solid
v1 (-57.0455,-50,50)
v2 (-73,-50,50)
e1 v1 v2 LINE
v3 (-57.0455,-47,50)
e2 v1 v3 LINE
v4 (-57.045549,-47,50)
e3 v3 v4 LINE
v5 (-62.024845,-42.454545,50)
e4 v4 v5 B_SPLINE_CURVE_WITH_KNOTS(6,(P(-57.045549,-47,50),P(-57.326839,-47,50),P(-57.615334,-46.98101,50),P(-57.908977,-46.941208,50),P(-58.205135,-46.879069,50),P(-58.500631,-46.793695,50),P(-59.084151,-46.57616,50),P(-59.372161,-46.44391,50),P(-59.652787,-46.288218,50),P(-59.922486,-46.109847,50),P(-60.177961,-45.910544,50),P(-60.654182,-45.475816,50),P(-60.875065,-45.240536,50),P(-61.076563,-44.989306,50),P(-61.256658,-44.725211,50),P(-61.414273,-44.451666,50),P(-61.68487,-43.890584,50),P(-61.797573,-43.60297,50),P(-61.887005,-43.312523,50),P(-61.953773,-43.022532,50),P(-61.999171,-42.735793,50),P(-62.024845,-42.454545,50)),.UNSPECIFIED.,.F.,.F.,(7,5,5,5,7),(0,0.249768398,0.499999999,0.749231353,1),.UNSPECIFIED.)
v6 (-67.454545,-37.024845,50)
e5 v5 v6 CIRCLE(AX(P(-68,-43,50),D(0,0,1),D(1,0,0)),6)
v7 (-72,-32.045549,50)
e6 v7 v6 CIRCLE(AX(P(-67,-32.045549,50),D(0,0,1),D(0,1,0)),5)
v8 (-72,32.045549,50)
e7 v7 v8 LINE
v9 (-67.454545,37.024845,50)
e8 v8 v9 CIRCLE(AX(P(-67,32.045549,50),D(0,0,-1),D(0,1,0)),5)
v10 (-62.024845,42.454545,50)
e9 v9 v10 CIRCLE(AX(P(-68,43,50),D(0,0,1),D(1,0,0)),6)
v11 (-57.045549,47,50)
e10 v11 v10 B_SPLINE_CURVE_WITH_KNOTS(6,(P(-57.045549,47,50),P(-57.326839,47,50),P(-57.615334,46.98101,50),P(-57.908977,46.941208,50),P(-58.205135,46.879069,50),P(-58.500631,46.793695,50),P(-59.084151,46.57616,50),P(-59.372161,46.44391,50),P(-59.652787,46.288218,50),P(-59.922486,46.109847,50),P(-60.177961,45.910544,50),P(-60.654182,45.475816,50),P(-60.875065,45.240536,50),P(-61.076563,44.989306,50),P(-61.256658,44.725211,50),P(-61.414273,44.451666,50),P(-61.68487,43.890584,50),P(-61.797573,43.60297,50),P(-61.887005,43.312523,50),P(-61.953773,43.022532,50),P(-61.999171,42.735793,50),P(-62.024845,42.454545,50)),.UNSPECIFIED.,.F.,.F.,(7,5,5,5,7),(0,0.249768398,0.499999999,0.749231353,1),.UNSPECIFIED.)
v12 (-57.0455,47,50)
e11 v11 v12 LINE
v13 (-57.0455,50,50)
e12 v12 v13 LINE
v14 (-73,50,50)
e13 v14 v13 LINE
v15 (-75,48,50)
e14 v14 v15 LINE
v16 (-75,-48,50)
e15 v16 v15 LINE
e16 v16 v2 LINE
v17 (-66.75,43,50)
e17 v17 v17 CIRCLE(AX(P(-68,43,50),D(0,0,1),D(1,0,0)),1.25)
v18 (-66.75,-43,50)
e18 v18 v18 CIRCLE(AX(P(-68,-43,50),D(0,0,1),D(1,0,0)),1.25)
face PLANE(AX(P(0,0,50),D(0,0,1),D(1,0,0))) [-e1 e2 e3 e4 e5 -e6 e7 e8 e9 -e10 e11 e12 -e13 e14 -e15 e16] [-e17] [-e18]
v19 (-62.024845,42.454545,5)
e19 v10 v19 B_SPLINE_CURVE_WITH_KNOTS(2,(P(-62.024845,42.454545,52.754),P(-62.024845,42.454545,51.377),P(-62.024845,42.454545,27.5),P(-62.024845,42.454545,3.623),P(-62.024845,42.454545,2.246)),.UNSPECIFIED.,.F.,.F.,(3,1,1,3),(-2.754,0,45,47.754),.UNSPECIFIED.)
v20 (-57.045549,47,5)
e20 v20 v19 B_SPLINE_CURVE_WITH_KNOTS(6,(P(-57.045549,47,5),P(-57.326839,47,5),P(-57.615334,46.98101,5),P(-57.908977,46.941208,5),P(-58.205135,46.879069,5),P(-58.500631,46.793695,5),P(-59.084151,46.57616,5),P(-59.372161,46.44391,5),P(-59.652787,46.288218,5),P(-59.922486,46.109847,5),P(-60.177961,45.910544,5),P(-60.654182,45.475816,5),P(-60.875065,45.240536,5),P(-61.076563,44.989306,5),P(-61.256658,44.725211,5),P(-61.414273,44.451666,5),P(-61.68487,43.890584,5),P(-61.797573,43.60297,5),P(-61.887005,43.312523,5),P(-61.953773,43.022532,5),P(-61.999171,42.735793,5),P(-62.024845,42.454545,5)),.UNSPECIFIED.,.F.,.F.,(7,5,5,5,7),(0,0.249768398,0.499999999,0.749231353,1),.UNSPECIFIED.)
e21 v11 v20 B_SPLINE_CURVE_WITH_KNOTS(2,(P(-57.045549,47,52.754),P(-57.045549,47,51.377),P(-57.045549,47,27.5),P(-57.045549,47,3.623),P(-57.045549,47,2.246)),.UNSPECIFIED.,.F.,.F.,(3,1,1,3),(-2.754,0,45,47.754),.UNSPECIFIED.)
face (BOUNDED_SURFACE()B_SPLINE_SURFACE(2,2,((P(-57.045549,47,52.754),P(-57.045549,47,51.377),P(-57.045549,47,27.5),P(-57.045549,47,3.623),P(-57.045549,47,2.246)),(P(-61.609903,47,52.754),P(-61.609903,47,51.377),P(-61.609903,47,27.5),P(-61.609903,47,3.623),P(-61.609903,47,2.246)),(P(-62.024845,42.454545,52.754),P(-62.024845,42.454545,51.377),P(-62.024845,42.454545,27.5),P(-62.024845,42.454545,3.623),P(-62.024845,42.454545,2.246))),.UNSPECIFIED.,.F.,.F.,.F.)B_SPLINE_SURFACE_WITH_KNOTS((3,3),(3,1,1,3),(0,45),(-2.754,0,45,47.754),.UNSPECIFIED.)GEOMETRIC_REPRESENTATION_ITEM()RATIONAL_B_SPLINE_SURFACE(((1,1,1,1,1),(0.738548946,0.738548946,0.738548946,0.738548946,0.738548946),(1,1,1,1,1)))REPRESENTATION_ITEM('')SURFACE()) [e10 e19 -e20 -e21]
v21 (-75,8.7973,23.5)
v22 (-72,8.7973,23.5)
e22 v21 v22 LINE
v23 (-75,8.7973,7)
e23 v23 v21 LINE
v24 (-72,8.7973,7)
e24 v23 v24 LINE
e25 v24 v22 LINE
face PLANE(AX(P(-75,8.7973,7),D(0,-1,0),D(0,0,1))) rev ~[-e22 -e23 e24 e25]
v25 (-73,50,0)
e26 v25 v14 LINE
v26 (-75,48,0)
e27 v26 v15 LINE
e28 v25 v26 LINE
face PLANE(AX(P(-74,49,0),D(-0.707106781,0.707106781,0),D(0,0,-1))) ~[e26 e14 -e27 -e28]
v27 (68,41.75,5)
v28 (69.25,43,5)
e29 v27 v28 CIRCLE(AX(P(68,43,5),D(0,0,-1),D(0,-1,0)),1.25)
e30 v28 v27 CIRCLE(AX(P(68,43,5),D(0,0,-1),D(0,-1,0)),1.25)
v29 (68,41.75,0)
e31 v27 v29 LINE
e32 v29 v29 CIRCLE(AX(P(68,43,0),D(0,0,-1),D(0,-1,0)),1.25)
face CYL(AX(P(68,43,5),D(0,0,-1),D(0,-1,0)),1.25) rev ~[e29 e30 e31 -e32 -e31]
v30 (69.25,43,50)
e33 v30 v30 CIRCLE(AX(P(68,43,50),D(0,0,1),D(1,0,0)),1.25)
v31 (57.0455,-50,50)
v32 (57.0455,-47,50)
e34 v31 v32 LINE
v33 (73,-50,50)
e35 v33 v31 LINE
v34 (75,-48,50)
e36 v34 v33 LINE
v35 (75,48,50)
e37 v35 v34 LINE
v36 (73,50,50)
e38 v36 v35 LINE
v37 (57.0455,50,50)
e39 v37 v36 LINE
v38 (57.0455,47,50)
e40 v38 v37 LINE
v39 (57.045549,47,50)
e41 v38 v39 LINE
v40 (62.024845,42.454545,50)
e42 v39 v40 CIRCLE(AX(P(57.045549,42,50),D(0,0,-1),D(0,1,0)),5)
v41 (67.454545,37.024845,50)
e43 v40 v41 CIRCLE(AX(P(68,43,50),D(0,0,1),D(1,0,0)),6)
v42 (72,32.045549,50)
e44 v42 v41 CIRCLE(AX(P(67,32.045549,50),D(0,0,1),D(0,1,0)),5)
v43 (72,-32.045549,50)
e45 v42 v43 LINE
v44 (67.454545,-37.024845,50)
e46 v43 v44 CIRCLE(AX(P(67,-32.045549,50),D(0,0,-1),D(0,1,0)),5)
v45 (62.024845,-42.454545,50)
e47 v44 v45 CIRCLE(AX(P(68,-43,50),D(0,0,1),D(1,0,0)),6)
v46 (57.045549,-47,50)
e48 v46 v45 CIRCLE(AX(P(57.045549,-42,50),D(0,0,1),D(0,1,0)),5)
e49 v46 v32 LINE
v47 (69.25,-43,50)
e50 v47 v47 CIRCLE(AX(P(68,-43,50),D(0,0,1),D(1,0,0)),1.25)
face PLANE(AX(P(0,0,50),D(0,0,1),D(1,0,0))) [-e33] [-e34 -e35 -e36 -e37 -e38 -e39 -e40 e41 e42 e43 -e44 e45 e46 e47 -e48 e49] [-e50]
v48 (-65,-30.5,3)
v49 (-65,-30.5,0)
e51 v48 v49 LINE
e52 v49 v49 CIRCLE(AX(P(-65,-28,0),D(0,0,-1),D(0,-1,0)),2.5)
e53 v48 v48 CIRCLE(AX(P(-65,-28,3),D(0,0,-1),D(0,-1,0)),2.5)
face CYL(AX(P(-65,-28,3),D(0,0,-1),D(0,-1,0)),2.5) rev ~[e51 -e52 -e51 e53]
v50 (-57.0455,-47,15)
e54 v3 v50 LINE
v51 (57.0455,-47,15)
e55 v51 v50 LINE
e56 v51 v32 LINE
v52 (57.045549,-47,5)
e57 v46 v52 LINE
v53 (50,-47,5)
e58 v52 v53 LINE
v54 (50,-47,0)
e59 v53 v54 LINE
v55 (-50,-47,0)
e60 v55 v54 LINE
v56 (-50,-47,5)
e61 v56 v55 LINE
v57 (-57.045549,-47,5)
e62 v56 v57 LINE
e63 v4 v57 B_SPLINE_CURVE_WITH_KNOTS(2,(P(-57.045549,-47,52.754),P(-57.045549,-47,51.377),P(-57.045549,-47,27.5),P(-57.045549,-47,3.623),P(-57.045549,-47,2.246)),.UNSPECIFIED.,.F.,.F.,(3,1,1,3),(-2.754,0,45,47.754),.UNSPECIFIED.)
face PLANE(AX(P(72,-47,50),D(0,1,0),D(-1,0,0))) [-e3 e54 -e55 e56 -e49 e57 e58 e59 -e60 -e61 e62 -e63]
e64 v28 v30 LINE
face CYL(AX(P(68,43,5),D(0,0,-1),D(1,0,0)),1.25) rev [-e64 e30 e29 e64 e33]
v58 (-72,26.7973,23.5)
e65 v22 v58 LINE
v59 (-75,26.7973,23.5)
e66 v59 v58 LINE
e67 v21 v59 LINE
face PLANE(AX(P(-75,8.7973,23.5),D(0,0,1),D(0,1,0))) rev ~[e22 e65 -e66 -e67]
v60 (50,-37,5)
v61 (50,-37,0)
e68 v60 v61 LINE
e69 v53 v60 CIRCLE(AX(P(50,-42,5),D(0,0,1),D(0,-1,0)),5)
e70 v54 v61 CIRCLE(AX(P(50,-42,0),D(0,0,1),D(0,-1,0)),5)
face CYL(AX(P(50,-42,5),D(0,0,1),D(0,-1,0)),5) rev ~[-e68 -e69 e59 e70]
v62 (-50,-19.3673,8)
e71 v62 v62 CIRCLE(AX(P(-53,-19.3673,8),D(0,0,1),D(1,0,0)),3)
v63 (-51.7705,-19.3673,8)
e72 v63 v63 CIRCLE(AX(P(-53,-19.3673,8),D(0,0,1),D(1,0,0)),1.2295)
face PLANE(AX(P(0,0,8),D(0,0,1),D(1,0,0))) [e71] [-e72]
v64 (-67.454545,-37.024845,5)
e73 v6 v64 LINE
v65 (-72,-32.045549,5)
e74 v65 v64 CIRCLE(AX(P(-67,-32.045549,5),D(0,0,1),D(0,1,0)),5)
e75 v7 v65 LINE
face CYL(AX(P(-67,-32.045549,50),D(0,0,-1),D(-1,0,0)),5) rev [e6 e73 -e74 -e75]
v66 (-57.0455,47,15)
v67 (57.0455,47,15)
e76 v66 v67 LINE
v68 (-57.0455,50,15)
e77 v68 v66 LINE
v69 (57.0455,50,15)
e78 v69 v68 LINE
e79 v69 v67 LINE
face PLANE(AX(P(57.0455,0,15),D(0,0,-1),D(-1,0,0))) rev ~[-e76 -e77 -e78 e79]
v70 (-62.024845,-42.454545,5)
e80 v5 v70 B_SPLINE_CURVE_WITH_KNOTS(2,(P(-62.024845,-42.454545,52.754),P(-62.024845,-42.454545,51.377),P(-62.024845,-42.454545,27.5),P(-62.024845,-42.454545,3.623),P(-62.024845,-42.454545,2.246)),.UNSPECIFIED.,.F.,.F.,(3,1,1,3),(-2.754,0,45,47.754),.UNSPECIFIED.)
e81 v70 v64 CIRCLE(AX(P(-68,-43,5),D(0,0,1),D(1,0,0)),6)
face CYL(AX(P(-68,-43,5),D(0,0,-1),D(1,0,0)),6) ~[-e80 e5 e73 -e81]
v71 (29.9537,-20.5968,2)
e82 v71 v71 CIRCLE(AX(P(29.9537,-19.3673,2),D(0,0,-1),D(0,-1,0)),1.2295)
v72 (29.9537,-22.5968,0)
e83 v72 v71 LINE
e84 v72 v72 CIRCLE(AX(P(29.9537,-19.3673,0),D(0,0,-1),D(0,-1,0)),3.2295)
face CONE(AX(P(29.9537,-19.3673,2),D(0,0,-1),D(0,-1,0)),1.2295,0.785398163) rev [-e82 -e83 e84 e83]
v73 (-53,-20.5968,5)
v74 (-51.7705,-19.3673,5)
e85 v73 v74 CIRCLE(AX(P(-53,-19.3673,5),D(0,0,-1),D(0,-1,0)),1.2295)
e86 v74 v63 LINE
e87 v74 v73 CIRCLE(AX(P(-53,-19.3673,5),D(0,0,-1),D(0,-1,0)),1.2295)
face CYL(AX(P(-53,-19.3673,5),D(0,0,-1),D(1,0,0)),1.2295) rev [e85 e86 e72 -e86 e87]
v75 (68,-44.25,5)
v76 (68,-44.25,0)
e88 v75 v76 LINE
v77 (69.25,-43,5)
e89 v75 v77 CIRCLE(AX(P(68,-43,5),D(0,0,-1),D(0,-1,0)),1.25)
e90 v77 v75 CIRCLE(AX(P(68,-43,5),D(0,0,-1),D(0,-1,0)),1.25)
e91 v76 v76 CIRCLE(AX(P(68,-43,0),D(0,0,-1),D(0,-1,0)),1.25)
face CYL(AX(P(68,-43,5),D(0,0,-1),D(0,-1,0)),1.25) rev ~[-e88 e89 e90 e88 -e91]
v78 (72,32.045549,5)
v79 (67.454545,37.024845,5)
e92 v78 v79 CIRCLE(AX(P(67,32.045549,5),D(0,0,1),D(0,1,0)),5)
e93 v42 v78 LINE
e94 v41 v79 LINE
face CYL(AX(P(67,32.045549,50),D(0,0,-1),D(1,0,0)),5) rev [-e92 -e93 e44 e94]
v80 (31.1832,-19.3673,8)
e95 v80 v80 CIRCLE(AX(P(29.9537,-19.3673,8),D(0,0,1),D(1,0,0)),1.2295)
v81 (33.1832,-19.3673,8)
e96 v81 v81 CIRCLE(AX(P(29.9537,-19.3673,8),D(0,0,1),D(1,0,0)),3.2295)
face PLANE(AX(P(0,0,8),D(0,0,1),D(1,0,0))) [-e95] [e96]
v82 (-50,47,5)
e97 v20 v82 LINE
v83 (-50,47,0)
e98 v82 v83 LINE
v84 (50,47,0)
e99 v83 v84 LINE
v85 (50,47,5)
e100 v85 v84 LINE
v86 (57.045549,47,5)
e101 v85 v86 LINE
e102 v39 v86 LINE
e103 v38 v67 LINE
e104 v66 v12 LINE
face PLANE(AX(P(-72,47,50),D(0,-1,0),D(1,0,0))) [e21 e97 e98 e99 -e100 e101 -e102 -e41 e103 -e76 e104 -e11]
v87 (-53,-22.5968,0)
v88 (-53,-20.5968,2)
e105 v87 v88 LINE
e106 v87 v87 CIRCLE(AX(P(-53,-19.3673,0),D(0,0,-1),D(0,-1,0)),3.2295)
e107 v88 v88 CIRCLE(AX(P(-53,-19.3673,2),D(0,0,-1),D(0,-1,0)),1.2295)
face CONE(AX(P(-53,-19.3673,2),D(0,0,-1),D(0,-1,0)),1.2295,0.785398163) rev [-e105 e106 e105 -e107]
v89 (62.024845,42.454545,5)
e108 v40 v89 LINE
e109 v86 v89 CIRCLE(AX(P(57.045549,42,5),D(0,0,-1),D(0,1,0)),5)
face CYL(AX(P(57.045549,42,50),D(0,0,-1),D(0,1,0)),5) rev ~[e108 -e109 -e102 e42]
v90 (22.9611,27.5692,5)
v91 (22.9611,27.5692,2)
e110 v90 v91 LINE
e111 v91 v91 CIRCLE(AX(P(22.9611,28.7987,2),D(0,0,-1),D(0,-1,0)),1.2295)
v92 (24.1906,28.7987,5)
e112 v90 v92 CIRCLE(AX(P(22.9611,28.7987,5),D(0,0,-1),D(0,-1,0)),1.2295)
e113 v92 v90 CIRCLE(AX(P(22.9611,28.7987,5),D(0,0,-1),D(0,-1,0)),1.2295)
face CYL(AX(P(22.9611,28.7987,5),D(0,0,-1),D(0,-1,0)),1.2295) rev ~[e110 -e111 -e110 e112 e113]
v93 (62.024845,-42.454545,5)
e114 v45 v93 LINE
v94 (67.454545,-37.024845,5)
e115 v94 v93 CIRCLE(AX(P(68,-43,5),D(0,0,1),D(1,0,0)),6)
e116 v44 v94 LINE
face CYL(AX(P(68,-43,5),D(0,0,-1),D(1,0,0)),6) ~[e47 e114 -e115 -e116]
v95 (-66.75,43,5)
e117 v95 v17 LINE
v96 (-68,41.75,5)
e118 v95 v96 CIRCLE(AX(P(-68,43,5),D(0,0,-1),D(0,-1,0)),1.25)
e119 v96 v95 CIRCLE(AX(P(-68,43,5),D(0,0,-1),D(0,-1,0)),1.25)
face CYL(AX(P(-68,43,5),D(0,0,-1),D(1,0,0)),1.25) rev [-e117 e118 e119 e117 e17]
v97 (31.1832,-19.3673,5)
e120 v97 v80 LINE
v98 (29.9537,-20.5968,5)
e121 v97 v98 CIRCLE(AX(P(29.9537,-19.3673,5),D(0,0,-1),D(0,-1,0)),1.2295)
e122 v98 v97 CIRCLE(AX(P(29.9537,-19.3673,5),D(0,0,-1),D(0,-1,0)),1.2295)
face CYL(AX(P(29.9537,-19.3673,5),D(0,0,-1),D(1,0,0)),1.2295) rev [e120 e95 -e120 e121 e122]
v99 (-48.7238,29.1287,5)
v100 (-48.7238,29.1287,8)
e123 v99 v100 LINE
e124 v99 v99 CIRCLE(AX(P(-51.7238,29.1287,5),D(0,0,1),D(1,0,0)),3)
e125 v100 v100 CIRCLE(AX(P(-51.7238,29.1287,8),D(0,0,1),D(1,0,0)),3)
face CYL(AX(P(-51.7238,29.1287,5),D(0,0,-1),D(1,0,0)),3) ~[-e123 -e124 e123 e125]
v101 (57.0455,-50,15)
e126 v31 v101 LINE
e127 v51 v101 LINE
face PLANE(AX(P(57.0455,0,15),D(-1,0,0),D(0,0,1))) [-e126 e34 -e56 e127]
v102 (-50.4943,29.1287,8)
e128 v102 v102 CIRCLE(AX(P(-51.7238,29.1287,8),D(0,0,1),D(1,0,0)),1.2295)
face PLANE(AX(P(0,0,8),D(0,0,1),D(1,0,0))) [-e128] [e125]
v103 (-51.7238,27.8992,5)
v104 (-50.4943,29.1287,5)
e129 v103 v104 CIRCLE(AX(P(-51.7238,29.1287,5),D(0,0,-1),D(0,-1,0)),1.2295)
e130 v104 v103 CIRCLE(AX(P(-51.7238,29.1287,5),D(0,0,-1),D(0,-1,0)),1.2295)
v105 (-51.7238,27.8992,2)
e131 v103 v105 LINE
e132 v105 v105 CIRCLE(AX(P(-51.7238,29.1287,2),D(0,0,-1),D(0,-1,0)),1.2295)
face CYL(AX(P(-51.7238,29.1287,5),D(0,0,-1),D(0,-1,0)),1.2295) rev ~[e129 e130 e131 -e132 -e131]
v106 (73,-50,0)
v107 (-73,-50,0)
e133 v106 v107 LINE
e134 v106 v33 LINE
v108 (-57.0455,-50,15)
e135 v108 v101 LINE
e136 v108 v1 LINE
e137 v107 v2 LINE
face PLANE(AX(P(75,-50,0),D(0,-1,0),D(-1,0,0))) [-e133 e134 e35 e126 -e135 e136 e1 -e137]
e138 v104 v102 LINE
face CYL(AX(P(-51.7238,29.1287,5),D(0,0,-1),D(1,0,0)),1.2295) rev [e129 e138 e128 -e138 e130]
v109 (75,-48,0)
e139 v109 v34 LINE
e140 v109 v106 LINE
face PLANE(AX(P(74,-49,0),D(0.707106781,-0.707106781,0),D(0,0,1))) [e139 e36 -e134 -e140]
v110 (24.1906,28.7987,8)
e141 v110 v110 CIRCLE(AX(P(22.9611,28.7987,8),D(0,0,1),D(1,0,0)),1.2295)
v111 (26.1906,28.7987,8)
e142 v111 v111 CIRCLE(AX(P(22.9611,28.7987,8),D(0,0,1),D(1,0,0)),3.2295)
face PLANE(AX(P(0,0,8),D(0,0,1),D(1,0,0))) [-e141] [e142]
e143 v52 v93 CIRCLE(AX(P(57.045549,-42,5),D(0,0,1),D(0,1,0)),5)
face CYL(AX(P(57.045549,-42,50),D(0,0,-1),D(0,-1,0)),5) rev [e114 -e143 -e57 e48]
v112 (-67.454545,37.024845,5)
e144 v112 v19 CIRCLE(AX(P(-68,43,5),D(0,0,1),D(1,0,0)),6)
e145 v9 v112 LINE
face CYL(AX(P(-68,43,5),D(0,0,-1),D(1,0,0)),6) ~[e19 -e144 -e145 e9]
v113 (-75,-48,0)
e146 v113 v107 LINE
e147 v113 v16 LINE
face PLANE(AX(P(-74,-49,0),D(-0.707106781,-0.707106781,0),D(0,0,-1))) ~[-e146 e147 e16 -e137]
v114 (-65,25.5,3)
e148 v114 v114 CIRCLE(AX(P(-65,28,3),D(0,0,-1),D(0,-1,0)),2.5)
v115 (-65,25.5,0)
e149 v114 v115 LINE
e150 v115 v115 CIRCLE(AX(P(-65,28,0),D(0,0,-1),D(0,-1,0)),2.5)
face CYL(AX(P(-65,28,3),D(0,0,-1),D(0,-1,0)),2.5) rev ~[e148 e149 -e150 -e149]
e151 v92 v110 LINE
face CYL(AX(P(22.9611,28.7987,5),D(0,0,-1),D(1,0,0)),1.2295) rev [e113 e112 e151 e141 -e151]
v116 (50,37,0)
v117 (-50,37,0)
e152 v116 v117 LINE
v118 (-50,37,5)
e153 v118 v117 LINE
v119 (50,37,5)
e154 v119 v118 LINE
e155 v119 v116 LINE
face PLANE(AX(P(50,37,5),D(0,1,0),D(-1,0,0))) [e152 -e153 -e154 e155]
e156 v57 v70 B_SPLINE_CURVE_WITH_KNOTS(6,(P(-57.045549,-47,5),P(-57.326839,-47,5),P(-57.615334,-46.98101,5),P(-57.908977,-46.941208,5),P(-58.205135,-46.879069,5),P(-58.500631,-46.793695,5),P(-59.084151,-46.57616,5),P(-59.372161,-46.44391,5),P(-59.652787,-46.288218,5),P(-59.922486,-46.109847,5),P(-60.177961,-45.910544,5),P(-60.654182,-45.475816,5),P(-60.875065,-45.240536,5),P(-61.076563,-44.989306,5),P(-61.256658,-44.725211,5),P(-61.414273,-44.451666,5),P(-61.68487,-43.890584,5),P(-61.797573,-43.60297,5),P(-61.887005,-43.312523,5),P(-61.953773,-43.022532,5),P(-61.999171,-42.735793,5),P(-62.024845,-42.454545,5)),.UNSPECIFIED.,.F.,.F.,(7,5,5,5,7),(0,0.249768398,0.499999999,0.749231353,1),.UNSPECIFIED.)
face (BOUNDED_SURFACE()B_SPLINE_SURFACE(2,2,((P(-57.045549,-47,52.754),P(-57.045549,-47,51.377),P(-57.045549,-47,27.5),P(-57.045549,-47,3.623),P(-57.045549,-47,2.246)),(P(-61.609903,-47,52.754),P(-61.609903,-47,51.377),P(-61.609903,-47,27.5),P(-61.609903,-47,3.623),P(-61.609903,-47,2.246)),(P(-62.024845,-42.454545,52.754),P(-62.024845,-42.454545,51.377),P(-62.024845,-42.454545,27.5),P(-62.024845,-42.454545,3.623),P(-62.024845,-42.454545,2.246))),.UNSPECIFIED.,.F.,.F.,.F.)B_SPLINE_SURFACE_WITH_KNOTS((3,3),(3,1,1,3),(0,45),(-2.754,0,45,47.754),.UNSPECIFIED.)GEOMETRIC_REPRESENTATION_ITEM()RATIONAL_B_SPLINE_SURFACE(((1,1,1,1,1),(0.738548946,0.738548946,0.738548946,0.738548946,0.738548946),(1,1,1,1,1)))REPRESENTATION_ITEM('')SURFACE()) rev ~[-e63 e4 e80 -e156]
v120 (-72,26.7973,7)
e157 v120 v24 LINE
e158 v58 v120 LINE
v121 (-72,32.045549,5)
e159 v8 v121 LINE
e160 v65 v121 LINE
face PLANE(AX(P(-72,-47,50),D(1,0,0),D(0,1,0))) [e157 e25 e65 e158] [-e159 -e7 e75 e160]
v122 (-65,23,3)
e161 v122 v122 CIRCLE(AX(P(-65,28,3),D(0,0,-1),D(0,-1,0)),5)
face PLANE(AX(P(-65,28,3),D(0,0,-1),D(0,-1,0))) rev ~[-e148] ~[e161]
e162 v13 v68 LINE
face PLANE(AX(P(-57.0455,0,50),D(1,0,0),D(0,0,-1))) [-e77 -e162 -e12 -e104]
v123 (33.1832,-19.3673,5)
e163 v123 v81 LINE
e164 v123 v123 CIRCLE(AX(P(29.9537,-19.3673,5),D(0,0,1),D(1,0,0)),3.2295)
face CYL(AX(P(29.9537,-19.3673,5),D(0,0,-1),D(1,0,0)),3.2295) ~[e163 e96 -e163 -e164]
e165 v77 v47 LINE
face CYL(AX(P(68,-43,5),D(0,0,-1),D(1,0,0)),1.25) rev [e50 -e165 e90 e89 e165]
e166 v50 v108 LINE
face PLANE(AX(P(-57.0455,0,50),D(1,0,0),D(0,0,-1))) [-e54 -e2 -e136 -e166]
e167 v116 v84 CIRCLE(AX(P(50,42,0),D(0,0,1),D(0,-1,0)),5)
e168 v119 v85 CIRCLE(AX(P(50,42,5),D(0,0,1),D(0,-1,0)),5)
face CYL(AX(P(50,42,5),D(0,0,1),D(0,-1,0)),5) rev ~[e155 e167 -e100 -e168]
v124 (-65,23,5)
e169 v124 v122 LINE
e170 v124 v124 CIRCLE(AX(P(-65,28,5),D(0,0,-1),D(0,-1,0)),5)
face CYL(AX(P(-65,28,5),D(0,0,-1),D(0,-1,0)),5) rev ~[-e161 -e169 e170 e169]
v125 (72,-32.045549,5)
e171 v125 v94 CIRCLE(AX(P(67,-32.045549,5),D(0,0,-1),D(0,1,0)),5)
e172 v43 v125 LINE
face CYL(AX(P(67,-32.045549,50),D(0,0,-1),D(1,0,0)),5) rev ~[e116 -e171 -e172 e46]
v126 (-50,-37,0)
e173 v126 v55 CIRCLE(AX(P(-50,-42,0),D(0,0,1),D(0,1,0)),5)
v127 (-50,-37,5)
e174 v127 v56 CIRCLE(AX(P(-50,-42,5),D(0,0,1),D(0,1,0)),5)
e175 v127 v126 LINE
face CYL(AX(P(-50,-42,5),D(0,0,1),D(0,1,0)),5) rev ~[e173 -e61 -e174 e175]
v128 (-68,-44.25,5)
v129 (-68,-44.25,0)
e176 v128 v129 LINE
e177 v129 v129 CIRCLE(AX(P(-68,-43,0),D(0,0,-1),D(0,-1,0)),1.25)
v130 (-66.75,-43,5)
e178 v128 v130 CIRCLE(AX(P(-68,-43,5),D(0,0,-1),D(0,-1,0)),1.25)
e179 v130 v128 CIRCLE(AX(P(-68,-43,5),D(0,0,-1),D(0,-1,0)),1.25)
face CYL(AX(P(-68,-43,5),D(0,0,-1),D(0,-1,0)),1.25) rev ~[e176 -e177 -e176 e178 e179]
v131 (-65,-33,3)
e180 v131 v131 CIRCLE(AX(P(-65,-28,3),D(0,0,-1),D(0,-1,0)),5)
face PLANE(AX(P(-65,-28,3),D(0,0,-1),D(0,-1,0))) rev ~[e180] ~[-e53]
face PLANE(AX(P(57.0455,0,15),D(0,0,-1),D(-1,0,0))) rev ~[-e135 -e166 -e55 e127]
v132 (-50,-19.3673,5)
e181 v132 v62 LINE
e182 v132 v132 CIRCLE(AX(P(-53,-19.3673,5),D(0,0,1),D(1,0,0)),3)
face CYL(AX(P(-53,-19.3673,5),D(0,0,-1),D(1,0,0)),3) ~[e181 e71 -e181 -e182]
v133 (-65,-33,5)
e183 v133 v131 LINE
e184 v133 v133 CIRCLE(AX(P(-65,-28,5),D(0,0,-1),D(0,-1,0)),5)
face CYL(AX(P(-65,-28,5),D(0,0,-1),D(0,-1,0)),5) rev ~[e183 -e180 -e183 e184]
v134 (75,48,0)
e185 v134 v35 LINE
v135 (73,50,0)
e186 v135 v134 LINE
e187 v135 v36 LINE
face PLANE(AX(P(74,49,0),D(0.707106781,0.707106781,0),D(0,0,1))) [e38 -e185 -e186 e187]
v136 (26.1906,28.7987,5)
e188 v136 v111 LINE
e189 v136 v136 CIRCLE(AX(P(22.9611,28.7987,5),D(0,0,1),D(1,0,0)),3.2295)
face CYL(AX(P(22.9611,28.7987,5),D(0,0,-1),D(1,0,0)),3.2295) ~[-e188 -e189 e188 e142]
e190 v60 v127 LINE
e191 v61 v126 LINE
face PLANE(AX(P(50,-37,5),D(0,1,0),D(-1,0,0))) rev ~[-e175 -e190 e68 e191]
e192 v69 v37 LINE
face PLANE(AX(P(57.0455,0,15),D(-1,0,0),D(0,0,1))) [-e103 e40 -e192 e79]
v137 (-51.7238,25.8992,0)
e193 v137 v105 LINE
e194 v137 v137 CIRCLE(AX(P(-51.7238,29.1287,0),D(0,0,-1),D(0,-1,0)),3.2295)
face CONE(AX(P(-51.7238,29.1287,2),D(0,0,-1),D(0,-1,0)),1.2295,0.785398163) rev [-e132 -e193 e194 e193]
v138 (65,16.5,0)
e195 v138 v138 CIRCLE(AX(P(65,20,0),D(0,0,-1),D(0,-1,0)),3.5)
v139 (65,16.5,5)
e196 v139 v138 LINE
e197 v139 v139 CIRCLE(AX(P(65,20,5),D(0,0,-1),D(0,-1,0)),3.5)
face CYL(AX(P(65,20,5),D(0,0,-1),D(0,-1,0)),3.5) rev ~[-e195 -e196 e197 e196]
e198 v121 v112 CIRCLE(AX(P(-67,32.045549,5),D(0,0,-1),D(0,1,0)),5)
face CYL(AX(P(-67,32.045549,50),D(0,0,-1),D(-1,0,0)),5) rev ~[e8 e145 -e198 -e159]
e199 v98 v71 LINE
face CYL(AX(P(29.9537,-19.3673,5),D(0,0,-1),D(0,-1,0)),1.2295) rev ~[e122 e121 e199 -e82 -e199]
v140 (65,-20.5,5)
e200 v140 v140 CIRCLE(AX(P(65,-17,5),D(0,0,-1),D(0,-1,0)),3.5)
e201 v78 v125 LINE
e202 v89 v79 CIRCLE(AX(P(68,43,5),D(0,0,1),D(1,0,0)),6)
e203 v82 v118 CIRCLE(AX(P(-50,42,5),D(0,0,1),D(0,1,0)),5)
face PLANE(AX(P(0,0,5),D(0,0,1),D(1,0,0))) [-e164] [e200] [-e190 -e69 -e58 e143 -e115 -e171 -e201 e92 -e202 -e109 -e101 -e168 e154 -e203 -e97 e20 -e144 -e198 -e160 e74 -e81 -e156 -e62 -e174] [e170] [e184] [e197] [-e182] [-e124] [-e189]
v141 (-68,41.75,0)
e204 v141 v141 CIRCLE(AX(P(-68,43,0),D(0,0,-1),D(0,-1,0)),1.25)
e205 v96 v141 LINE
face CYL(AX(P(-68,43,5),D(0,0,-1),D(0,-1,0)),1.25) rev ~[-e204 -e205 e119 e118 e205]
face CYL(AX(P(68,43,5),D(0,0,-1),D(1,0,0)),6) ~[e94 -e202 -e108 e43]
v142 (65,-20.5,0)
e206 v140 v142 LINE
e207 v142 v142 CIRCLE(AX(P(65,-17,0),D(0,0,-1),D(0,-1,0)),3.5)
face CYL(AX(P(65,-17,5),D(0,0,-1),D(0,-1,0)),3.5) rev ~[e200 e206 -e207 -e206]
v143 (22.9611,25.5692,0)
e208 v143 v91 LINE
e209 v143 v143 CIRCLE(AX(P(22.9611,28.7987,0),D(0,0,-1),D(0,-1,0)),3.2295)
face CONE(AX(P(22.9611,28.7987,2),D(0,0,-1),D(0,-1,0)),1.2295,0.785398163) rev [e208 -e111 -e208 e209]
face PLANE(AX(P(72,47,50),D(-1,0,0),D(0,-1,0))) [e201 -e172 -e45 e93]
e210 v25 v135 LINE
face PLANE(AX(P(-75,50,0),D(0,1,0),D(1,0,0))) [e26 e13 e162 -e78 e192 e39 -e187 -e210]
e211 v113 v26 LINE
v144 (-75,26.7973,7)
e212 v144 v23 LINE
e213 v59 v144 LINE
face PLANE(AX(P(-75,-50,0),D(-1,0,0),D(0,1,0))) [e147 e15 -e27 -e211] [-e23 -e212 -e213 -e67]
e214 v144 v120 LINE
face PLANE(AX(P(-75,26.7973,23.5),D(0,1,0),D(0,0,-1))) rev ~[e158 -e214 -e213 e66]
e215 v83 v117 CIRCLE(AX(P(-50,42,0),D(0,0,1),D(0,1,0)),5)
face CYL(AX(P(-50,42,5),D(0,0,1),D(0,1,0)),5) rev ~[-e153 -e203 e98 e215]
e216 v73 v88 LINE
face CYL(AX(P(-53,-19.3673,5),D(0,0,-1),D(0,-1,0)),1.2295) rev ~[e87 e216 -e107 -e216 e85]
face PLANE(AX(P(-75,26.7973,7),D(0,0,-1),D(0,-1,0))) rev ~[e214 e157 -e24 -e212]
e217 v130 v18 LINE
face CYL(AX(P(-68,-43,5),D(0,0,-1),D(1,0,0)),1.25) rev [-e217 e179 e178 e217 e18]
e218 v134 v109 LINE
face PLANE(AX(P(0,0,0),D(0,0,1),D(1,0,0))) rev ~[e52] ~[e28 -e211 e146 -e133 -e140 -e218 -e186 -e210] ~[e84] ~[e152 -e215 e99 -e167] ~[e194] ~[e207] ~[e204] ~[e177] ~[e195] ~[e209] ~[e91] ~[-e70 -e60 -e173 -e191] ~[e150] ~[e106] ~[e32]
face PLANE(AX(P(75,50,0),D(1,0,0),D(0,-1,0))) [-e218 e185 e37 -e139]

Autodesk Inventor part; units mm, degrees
ref_plane "YZ Plane" through (0, 0, 0) normal (1, 0, 0) x (0, 1, 0)
ref_plane "XZ Plane" through (0, 0, 0) normal (0, 1, 0) x (-1, 0, 0)
ref_plane "XY Plane" through (0, 0, 0) normal (0, 0, 1) x (1, 0, 0)
sketch "Sketch1" plane through (0, 0, 0) normal (0, 0, 1) x (1, 0, 0)
  line L0 (-75, 50) -> (75, 50)
  line L1 (75, 50) -> (75, -50)
  line L2 (75, -50) -> (-75, -50)
  line L3 (-75, -50) -> (-75, 50)
  point P0 (0, 0)
  point P1 (-75, 0)
  point P2 (0, 50)
  dimension "d0" = 150
  dimension "d1" = 100
extrude "Extrusion1" add sketch "Sketch1" along normal blind 50
sketch "Sketch2" plane through (0, 0, 50) normal (0, 0, 1) x (1, 0, 0)
  line L0 (-33.0476, 12.9868) -> (-30.2047, 12.9868) construction
  line L1 (-30.2047, 12.9868) -> (-30.2047, 9.9388) construction
  line L2 (-30.2047, 9.9388) -> (-33.0476, 9.9388) construction
  line L3 (-33.0476, 9.9388) -> (-33.0476, 12.9868) construction
  point P0 (0, 0)
sketch "Sketch3" plane through (0, 0, 50) normal (0, 0, 1) x (1, 0, 0)
  line L0 (75, -50) -> (75, 50) projected
  line L1 (75, 50) -> (-75, 50) projected
  line L2 (-75, 50) -> (-75, -50) projected
  line L3 (-75, -50) -> (75, -50) projected
  line L4 (-72, 47) -> (72, 47)
  line L5 (72, 47) -> (72, -47)
  line L6 (72, -47) -> (-72, -47)
  line L7 (-72, -47) -> (-72, 47)
  point P0 (0, 0)
  dimension "d4" = 3
extrude "Extrusion2" cut sketch "Sketch3" against normal blind 45 contours L4 L5 L6 L7
sketch "Sketch4" plane through (-75, -50, 0) normal (-1, 0, 0) x (0, 0, 1)
  line L0 (26.325, 30.96) -> (27.325, 30.96) construction
  line L1 (27.325, 30.96) -> (27.325, 29.96) construction
  line L2 (27.325, 29.96) -> (26.325, 29.96) construction
  line L3 (26.325, 29.96) -> (26.325, 30.96) construction
  line L4 (21, 20) -> (21, 81.7649) construction
  line L5 (21, 81.7649) -> (23, 81.7649) construction
  line L6 (23, 81.7649) -> (23, 44.32) construction
  line L7 (23, 44.32) -> (31.5, 44.32) construction
  line L8 (31.5, 44.32) -> (31.5, 44.16) construction
  line L9 (31.5, 44.16) -> (31.1, 44.16) construction
  line L10 (31.1, 44.16) -> (31.1, 22) construction
  line L11 (31.1, 22) -> (23, 22) construction
  line L12 (23, 22) -> (23, 20) construction
  line L13 (23, 20) -> (21, 20) construction
  line L14 (6.5168, 74.0273) -> (6.48, 74.0735) construction
  line L15 (6.48, 74.0735) -> (6.48, 74.4839) construction
  line L16 (6.48, 74.4839) -> (7.0709, 74.9548) construction
  arc A0 (8, 75.2183) -> (7.0709, 74.9548) centre (7.85, 73.9773) ccw construction
  line L17 (8, 75.2183) -> (8, 81.2973) construction
  line L18 (8, 81.2973) -> (10, 81.2973) construction
  line L19 (10, 81.2973) -> (10, 73.7973) construction
  line L20 (10, 73.7973) -> (20.5, 73.7973) construction
  line L21 (20.5, 73.7973) -> (20.5, 61.7973) construction
  line L22 (20.5, 61.7973) -> (10, 61.7973) construction
  line L23 (10, 61.7973) -> (10, 43.2973) construction
  line L24 (10, 43.2973) -> (16.35, 43.2973) construction
  line L25 (16.35, 43.2973) -> (16.35, 42.7893) construction
  arc A1 (16.35, 34.6613) -> (16.35, 42.7893) centre (16.35, 38.7253) ccw construction
  line L26 (16.35, 34.6613) -> (16.35, 34.1533) construction
  line L27 (16.35, 34.1533) -> (10, 34.1533) construction
  line L28 (10, 34.1533) -> (10, 28.1327) construction
  line L29 (10, 28.1327) -> (8, 28.1327) construction
  line L30 (8, 28.1327) -> (8, 60.3763) construction
  arc A2 (7.0709, 60.6398) -> (8, 60.3763) centre (7.85, 61.6173) ccw construction
  line L31 (7.0709, 60.6398) -> (6.48, 61.1107) construction
  line L32 (6.48, 61.1107) -> (6.48, 61.5211) construction
  line L33 (6.48, 61.5211) -> (6.5168, 61.5673) construction
  line L34 (6.5168, 61.5673) -> (7.3078, 60.9369) construction
  arc A3 (7.3078, 60.9369) -> (8, 60.7603) centre (7.85, 61.6173) ccw construction
  line L35 (8, 60.7603) -> (8, 74.8343) construction
  arc A4 (8, 74.8343) -> (7.3078, 74.6577) centre (7.85, 73.9773) ccw construction
  line L36 (7.3078, 74.6577) -> (6.5168, 74.0273) construction
  circle A5 centre (16.35, 38.7253) radius 3.048 construction
  circle A6 centre (16.35, 38.7253) radius 1 construction
  line L37 (27.325, 41.12) -> (27.325, 40.12) construction
  line L38 (27.325, 40.12) -> (26.325, 40.12) construction
  line L39 (26.325, 40.12) -> (26.325, 41.12) construction
  line L40 (26.325, 41.12) -> (27.325, 41.12) construction
  arc A7 (24.7, 32.705) -> (24.7, 28.215) centre (27.05, 30.46) ccw construction
  line L41 (24.7, 28.215) -> (24.7, 27.625) construction
  arc A8 (24.7, 27.625) -> (24.7, 23.135) centre (27.05, 25.38) ccw construction
  line L42 (24.7, 23.135) -> (24.7, 22.78) construction
  line L43 (24.7, 22.78) -> (30.05, 22.78) construction
  line L44 (30.05, 22.78) -> (30.05, 43.22) construction
  line L45 (30.05, 43.22) -> (24.7, 43.22) construction
  line L46 (24.7, 43.22) -> (24.7, 42.865) construction
  arc A9 (24.7, 42.865) -> (24.7, 38.375) centre (27.05, 40.62) ccw construction
  line L47 (24.7, 38.375) -> (24.7, 37.785) construction
  arc A10 (24.7, 37.785) -> (24.7, 33.295) centre (27.05, 35.54) ccw construction
  line L48 (24.7, 33.295) -> (24.7, 32.705) construction
  line L49 (26.325, 24.88) -> (26.325, 25.88) construction
  line L50 (26.325, 25.88) -> (27.325, 25.88) construction
  line L51 (27.325, 25.88) -> (27.325, 24.88) construction
  line L52 (27.325, 24.88) -> (26.325, 24.88) construction
  line L53 (26.325, 35.04) -> (26.325, 36.04) construction
  line L54 (26.325, 36.04) -> (27.325, 36.04) construction
  line L55 (27.325, 36.04) -> (27.325, 35.04) construction
  line L56 (27.325, 35.04) -> (26.325, 35.04) construction
  line L57 (34.1, 47.32) -> (18, 47.32)
  line L58 (18, 47.32) -> (18, 17)
  line L59 (18, 17) -> (34.1, 17)
  line L60 (34.1, 17) -> (34.1, 47.32)
  line L61 (23.5, 76.7973) -> (7, 76.7973)
  line L62 (7, 76.7973) -> (7, 58.7973)
  line L63 (7, 58.7973) -> (23.5, 58.7973)
  line L64 (23.5, 58.7973) -> (23.5, 76.7973)
  point P0 (0, 50)
  dimension "d9" = 3
  dimension "d10" = 3
  dimension "d11" = 3
  dimension "d12" = 3
  dimension "d13" = 3
  dimension "d14" = 3
  dimension "d16" = 3
  dimension "d17" = 3
extrude "Extrusion3" cut sketch "Sketch4" against normal up to surface (3 mm away) contours L64 L63 L62 L61
sketch "Sketch5" plane through (-75, 50, 0) normal (0, 1, 0) x (1, 0, 0)
  circle A0 centre (112.5, -25) radius 7.5
  circle A1 centre (37.5, -25) radius 7.5
  circle A2 centre (75, -25) radius 7.5
  line L0 (150, 0) -> (150, -50) projected
  line L1 (0, 0) -> (0, -50) projected
  point P0 (75, 0)
  point P1 (0, -25)
  point P2 (0, -25)
  dimension "d20" = 15
  dimension "d21" = 15
  dimension "d22" = 15
  dimension "d23" = 37.5
  dimension "d24" = 37.5
  dimension "d25" = 37.5
extrude "Extrusion4" [suppressed]
sketch "Sketch6" plane through (0, 0, 5) normal (0, 0, 1) x (1, 0, 0)
  line L0 (-68, -43) -> (68, -43) construction
  line L1 (68, -43) -> (68, 43) construction
  line L2 (68, 43) -> (-68, 43) construction
  line L3 (-68, 43) -> (-68, -43) construction
  line L4 (-72, -47) -> (-72, 47) projected
  line L5 (-72, 47) -> (72, 47) projected
  line L6 (72, 47) -> (72, -47) projected
  line L7 (72, -47) -> (-72, -47) projected
  point P0 (0, 0)
  dimension "d28" = 4
  dimension "d29" = 4
  dimension "d30" = 4
  dimension "d31" = 4
hole "Hole1" at (-68, -43, 5) at (-68, 43, 5) at (68, -43, 5) at (68, 43, 5) direction (0, 0, -1) diameter 2.5 end through all
sketch "Sketch7" plane through (0, 0, 5) normal (0, 0, 1) x (1, 0, 0)
  circle A0 centre (-68, -43) radius 1.25 projected
  circle A1 centre (-68, 43) radius 1.25 projected
  circle A2 centre (68, 43) radius 1.25 projected
  circle A3 centre (68, -43) radius 1.25 projected
  circle A4 centre (-68, -43) radius 6
  circle A5 centre (-68, 43) radius 6
  circle A6 centre (68, -43) radius 6
  circle A7 centre (68, 43) radius 6
  point P0 (0, 0)
  dimension "d39" = 12
extrude "Extrusion5" add sketch "Sketch7" along normal up to surface (45 mm away)
fillet "Fillet1" radius 5 8 edges at (-72, 38.5279, 27.5) (-63.5279, 47, 27.5) (-63.5279, -47, 27.5) (-72, -38.5279, 27.5) (63.5279, 47, 27.5) (63.5279, -47, 27.5) (72, 38.5279, 27.5) (72, -38.5279, 27.5)
sketch "Sketch10" plane through (0, 0, 0) normal (0, 0, -1) x (-1, 0, 0)
  line L0 (-75, 50) -> (-55, 50)
  line L1 (-55, 50) -> (-55, -50)
  line L2 (-55, -50) -> (-75, -50)
  line L3 (-75, -50) -> (-75, 50)
  line L4 (-75, 50) -> (75, 50) projected
  line L5 (75, -50) -> (-75, -50) projected
  line L6 (-75, -50) -> (-75, 50) projected
  point P0 (0, 0)
  dimension "d46" = 20
extrude "Extrusion7" [suppressed]
sketch "Sketch11" plane through (0, 0, 5) normal (0, 0, 1) x (1, 0, 0)
  line L0 (72, 32.0455) -> (72, -32.0455) projected
  line L1 (57.0455, -47) -> (-57.0455, -47) projected
  line L2 (75, 50) -> (-75, 50) projected
  point P0 (0, 0)
  point P1 (65, -17)
  point P2 (65, 20)
  dimension "d49" = 7
  dimension "d50" = 30
  dimension "d51" = 30
hole "Hole2" at (65, -17, 5) at (65, 20, 5) direction (0, 0, -1) diameter 7 end through all
sketch "Sketch12" plane through (0, 0, 5) normal (0, 0, 1) x (1, 0, 0)
  line L0 (-50, -42) -> (50, -42) construction
  line L1 (-50, -47) -> (50, -47)
  line L2 (50, -37) -> (-50, -37)
  arc A0 (-50, -37) -> (-50, -47) centre (-50, -42) ccw
  arc A1 (50, -47) -> (50, -37) centre (50, -42) ccw
  line L3 (-66.4643, 0) -> (-31.6341, 0) construction
  line L4 (57.0455, -47) -> (-57.0455, -47) construction
  line L5 (-50, 47) -> (50, 47)
  line L6 (50, 37) -> (-50, 37)
  arc A2 (-50, 47) -> (-50, 37) centre (-50, 42) ccw
  arc A3 (50, 37) -> (50, 47) centre (50, 42) ccw
  point P0 (0, 0)
  point P1 (0, -42)
  point P2 (-49.0492, 0)
  dimension "d59" = 10
  dimension "d60" = 5
  dimension "d61" = 100
extrude "Extrusion8" cut sketch "Sketch12" against normal through all
sketch "Sketch13" plane through (0, 0, 5) normal (0, 0, 1) x (1, 0, 0)
  circle A0 centre (-53, -19.3673) radius 1.6078 construction
  circle A1 centre (-51.7238, 29.1287) radius 1.6078 construction
  circle A2 centre (22.9611, 28.7987) radius 1.6 construction
  circle A3 centre (29.9537, -19.3673) radius 1.6078 construction
  circle A4 centre (-63.3989, 10.0987) radius 1.1 construction
  point P0 (0, 0)
hole "Hole3" at (-53, -19.3673, 5) at (-51.7238, 29.1287, 5) at (29.9537, -19.3673, 5) at (22.9611, 28.7987, 5) direction (0, 0, -1) diameter 2.459 end through all thread size "M3x0.5" class "6H" standard "ISO Metric profile"
chamfer "Chamfer1" distance 2 angle 45 4 edges at (-53, -18.1378, 0) (29.9537, -18.1378, 0) (-51.7238, 30.3582, 0) (22.9611, 30.0282, 0)
sketch "Sketch14" plane through (0, 0, 5) normal (0, 0, 1) x (1, 0, 0)
  circle A0 centre (-68, -43) radius 1.25 projected
  circle A1 centre (-68, 43) radius 1.25 projected
  line L0 (-75, 50) -> (-75, -50) projected
  point P0 (0, 0)
  point P1 (-65, -28)
  point P2 (-65, 28)
  dimension "d74" = 15
  dimension "d75" = 15
  dimension "d83" = 10
hole "Hole4" at (-65, -28, 5) at (-65, 28, 5) direction (0, 0, -1) diameter 5 end through all counterbore diameter 10 counterbore depth 2
sketch "Sketch15" plane through (-75, 50, 50) normal (0, 1, 0) x (1, 0, 0)
  line L0 (125, 5) -> (25, 5) construction
  line L1 (125, 3.5) -> (25, 3.5)
  line L2 (25, 6.5) -> (125, 6.5)
  arc A0 (125, 3.5) -> (125, 6.5) centre (125, 5) ccw
  arc A1 (25, 6.5) -> (25, 3.5) centre (25, 5) ccw
  line L3 (0, 50) -> (0, 0) projected
  line L4 (150, 50) -> (150, 0) projected
  line L5 (150, 0) -> (0, 0) projected
  point P0 (75, 50)
  point P1 (75, 5)
  point P2 (150, 70)
  dimension "d84" = 3
  dimension "d85" = 25
  dimension "d86" = 25
  dimension "d87" = 5
extrude "Extrusion9" [suppressed]
pattern_linear "Rectangular Pattern1" [suppressed]
sketch "Sketch16" plane through (0, 0, 0) normal (0, 1, 0) x (-1, 0, 0)
  line L0 (57.0455, 50) -> (57.0455, 5) projected
  line L1 (-57.0455, 5) -> (-57.0455, 50) projected
  line L2 (50, 5) -> (-50, 5) projected
  line L3 (-57.0455, 50) -> (-57.0455, 5) projected
  line L4 (-57.0455, 15) -> (57.0455, 15)
  line L5 (57.0455, 5) -> (57.0455, 50) projected
  line L6 (-57.0455, 50) -> (57.0455, 50)
  line L7 (75, 50) -> (-75, 50) projected
  point P0 (0, 0)
  dimension "d93" = 10
extrude "Extrusion10" cut sketch "Sketch16" against normal through all both and the other way through all
chamfer "Chamfer2" distance 2 angle 45 4 edges at (75, 50, 25) (-75, 50, 25) (-75, -50, 25) (75, -50, 25)
sketch "Sketch17" plane through (0, 0, 5) normal (0, 0, 1) x (1, 0, 0)
  circle A0 centre (-65, -28) radius 5 projected
  circle A1 centre (-65, 28) radius 5 projected
  circle A2 centre (29.9537, -19.3673) radius 1.2295 projected
  circle A3 centre (-53, -19.3673) radius 1.2295 projected
  circle A4 centre (-51.7238, 29.1287) radius 1.2295 projected
  circle A5 centre (22.9611, 28.7987) radius 1.2295 projected
  arc A6 (50, 37) -> (50, 47) centre (50, 42) ccw projected
  line L0 (50, 37) -> (-50, 37) projected
  arc A7 (-50, 47) -> (-50, 37) centre (-50, 42) ccw projected
  line L1 (-57.0455, 47) -> (-50, 47) projected
  arc A8 (-57.0455, 47) -> (-62.0248, 42.4545) centre (-57.0455, 42) ccw projected
  arc A9 (-67.4545, 37.0248) -> (-62.0248, 42.4545) centre (-68, 43) ccw projected
  arc A10 (-67.4545, 37.0248) -> (-72, 32.0455) centre (-67, 32.0455) ccw projected
  line L2 (-72, -32.0455) -> (-72, 32.0455) projected
  arc A11 (-72, -32.0455) -> (-67.4545, -37.0248) centre (-67, -32.0455) ccw projected
  arc A12 (-62.0248, -42.4545) -> (-67.4545, -37.0248) centre (-68, -43) ccw projected
  arc A13 (-62.0248, -42.4545) -> (-57.0455, -47) centre (-57.0455, -42) ccw projected
  line L3 (-50, -47) -> (-57.0455, -47) projected
  arc A14 (-50, -37) -> (-50, -47) centre (-50, -42) ccw projected
  line L4 (-50, -37) -> (50, -37) projected
  arc A15 (50, -47) -> (50, -37) centre (50, -42) ccw projected
  line L5 (57.0455, -47) -> (50, -47) projected
  arc A16 (57.0455, -47) -> (62.0248, -42.4545) centre (57.0455, -42) ccw projected
  arc A17 (67.4545, -37.0248) -> (62.0248, -42.4545) centre (68, -43) ccw projected
  arc A18 (67.4545, -37.0248) -> (72, -32.0455) centre (67, -32.0455) ccw projected
  line L6 (72, 32.0455) -> (72, -32.0455) projected
  arc A19 (72, 32.0455) -> (67.4545, 37.0248) centre (67, 32.0455) ccw projected
  arc A20 (62.0248, 42.4545) -> (67.4545, 37.0248) centre (68, 43) ccw projected
  arc A21 (62.0248, 42.4545) -> (57.0455, 47) centre (57.0455, 42) ccw projected
  line L7 (50, 47) -> (57.0455, 47) projected
  circle A22 centre (65, 20) radius 3.5 projected
  circle A23 centre (65, -17) radius 3.5 projected
  circle A24 centre (-51.7238, 29.1287) radius 1.2295 projected
  circle A25 centre (-51.7238, 29.1287) radius 3
  circle A26 centre (22.9611, 28.7987) radius 1.2295 projected
  circle A27 centre (22.9611, 28.7987) radius 3.2295
  circle A28 centre (29.9537, -19.3673) radius 3.2295
  circle A29 centre (-53, -19.3673) radius 3
  circle A30 centre (-51.7238, 29.1287) radius 3.2295 projected
  point P0 (0, 0)
  dimension "d99" = 6
extrude "Extrusion11" add sketch "Sketch17" along normal blind 3 contours A25 | A27 | A28 | A29
properties part number "10-06-009" material "ABS Plastic"
